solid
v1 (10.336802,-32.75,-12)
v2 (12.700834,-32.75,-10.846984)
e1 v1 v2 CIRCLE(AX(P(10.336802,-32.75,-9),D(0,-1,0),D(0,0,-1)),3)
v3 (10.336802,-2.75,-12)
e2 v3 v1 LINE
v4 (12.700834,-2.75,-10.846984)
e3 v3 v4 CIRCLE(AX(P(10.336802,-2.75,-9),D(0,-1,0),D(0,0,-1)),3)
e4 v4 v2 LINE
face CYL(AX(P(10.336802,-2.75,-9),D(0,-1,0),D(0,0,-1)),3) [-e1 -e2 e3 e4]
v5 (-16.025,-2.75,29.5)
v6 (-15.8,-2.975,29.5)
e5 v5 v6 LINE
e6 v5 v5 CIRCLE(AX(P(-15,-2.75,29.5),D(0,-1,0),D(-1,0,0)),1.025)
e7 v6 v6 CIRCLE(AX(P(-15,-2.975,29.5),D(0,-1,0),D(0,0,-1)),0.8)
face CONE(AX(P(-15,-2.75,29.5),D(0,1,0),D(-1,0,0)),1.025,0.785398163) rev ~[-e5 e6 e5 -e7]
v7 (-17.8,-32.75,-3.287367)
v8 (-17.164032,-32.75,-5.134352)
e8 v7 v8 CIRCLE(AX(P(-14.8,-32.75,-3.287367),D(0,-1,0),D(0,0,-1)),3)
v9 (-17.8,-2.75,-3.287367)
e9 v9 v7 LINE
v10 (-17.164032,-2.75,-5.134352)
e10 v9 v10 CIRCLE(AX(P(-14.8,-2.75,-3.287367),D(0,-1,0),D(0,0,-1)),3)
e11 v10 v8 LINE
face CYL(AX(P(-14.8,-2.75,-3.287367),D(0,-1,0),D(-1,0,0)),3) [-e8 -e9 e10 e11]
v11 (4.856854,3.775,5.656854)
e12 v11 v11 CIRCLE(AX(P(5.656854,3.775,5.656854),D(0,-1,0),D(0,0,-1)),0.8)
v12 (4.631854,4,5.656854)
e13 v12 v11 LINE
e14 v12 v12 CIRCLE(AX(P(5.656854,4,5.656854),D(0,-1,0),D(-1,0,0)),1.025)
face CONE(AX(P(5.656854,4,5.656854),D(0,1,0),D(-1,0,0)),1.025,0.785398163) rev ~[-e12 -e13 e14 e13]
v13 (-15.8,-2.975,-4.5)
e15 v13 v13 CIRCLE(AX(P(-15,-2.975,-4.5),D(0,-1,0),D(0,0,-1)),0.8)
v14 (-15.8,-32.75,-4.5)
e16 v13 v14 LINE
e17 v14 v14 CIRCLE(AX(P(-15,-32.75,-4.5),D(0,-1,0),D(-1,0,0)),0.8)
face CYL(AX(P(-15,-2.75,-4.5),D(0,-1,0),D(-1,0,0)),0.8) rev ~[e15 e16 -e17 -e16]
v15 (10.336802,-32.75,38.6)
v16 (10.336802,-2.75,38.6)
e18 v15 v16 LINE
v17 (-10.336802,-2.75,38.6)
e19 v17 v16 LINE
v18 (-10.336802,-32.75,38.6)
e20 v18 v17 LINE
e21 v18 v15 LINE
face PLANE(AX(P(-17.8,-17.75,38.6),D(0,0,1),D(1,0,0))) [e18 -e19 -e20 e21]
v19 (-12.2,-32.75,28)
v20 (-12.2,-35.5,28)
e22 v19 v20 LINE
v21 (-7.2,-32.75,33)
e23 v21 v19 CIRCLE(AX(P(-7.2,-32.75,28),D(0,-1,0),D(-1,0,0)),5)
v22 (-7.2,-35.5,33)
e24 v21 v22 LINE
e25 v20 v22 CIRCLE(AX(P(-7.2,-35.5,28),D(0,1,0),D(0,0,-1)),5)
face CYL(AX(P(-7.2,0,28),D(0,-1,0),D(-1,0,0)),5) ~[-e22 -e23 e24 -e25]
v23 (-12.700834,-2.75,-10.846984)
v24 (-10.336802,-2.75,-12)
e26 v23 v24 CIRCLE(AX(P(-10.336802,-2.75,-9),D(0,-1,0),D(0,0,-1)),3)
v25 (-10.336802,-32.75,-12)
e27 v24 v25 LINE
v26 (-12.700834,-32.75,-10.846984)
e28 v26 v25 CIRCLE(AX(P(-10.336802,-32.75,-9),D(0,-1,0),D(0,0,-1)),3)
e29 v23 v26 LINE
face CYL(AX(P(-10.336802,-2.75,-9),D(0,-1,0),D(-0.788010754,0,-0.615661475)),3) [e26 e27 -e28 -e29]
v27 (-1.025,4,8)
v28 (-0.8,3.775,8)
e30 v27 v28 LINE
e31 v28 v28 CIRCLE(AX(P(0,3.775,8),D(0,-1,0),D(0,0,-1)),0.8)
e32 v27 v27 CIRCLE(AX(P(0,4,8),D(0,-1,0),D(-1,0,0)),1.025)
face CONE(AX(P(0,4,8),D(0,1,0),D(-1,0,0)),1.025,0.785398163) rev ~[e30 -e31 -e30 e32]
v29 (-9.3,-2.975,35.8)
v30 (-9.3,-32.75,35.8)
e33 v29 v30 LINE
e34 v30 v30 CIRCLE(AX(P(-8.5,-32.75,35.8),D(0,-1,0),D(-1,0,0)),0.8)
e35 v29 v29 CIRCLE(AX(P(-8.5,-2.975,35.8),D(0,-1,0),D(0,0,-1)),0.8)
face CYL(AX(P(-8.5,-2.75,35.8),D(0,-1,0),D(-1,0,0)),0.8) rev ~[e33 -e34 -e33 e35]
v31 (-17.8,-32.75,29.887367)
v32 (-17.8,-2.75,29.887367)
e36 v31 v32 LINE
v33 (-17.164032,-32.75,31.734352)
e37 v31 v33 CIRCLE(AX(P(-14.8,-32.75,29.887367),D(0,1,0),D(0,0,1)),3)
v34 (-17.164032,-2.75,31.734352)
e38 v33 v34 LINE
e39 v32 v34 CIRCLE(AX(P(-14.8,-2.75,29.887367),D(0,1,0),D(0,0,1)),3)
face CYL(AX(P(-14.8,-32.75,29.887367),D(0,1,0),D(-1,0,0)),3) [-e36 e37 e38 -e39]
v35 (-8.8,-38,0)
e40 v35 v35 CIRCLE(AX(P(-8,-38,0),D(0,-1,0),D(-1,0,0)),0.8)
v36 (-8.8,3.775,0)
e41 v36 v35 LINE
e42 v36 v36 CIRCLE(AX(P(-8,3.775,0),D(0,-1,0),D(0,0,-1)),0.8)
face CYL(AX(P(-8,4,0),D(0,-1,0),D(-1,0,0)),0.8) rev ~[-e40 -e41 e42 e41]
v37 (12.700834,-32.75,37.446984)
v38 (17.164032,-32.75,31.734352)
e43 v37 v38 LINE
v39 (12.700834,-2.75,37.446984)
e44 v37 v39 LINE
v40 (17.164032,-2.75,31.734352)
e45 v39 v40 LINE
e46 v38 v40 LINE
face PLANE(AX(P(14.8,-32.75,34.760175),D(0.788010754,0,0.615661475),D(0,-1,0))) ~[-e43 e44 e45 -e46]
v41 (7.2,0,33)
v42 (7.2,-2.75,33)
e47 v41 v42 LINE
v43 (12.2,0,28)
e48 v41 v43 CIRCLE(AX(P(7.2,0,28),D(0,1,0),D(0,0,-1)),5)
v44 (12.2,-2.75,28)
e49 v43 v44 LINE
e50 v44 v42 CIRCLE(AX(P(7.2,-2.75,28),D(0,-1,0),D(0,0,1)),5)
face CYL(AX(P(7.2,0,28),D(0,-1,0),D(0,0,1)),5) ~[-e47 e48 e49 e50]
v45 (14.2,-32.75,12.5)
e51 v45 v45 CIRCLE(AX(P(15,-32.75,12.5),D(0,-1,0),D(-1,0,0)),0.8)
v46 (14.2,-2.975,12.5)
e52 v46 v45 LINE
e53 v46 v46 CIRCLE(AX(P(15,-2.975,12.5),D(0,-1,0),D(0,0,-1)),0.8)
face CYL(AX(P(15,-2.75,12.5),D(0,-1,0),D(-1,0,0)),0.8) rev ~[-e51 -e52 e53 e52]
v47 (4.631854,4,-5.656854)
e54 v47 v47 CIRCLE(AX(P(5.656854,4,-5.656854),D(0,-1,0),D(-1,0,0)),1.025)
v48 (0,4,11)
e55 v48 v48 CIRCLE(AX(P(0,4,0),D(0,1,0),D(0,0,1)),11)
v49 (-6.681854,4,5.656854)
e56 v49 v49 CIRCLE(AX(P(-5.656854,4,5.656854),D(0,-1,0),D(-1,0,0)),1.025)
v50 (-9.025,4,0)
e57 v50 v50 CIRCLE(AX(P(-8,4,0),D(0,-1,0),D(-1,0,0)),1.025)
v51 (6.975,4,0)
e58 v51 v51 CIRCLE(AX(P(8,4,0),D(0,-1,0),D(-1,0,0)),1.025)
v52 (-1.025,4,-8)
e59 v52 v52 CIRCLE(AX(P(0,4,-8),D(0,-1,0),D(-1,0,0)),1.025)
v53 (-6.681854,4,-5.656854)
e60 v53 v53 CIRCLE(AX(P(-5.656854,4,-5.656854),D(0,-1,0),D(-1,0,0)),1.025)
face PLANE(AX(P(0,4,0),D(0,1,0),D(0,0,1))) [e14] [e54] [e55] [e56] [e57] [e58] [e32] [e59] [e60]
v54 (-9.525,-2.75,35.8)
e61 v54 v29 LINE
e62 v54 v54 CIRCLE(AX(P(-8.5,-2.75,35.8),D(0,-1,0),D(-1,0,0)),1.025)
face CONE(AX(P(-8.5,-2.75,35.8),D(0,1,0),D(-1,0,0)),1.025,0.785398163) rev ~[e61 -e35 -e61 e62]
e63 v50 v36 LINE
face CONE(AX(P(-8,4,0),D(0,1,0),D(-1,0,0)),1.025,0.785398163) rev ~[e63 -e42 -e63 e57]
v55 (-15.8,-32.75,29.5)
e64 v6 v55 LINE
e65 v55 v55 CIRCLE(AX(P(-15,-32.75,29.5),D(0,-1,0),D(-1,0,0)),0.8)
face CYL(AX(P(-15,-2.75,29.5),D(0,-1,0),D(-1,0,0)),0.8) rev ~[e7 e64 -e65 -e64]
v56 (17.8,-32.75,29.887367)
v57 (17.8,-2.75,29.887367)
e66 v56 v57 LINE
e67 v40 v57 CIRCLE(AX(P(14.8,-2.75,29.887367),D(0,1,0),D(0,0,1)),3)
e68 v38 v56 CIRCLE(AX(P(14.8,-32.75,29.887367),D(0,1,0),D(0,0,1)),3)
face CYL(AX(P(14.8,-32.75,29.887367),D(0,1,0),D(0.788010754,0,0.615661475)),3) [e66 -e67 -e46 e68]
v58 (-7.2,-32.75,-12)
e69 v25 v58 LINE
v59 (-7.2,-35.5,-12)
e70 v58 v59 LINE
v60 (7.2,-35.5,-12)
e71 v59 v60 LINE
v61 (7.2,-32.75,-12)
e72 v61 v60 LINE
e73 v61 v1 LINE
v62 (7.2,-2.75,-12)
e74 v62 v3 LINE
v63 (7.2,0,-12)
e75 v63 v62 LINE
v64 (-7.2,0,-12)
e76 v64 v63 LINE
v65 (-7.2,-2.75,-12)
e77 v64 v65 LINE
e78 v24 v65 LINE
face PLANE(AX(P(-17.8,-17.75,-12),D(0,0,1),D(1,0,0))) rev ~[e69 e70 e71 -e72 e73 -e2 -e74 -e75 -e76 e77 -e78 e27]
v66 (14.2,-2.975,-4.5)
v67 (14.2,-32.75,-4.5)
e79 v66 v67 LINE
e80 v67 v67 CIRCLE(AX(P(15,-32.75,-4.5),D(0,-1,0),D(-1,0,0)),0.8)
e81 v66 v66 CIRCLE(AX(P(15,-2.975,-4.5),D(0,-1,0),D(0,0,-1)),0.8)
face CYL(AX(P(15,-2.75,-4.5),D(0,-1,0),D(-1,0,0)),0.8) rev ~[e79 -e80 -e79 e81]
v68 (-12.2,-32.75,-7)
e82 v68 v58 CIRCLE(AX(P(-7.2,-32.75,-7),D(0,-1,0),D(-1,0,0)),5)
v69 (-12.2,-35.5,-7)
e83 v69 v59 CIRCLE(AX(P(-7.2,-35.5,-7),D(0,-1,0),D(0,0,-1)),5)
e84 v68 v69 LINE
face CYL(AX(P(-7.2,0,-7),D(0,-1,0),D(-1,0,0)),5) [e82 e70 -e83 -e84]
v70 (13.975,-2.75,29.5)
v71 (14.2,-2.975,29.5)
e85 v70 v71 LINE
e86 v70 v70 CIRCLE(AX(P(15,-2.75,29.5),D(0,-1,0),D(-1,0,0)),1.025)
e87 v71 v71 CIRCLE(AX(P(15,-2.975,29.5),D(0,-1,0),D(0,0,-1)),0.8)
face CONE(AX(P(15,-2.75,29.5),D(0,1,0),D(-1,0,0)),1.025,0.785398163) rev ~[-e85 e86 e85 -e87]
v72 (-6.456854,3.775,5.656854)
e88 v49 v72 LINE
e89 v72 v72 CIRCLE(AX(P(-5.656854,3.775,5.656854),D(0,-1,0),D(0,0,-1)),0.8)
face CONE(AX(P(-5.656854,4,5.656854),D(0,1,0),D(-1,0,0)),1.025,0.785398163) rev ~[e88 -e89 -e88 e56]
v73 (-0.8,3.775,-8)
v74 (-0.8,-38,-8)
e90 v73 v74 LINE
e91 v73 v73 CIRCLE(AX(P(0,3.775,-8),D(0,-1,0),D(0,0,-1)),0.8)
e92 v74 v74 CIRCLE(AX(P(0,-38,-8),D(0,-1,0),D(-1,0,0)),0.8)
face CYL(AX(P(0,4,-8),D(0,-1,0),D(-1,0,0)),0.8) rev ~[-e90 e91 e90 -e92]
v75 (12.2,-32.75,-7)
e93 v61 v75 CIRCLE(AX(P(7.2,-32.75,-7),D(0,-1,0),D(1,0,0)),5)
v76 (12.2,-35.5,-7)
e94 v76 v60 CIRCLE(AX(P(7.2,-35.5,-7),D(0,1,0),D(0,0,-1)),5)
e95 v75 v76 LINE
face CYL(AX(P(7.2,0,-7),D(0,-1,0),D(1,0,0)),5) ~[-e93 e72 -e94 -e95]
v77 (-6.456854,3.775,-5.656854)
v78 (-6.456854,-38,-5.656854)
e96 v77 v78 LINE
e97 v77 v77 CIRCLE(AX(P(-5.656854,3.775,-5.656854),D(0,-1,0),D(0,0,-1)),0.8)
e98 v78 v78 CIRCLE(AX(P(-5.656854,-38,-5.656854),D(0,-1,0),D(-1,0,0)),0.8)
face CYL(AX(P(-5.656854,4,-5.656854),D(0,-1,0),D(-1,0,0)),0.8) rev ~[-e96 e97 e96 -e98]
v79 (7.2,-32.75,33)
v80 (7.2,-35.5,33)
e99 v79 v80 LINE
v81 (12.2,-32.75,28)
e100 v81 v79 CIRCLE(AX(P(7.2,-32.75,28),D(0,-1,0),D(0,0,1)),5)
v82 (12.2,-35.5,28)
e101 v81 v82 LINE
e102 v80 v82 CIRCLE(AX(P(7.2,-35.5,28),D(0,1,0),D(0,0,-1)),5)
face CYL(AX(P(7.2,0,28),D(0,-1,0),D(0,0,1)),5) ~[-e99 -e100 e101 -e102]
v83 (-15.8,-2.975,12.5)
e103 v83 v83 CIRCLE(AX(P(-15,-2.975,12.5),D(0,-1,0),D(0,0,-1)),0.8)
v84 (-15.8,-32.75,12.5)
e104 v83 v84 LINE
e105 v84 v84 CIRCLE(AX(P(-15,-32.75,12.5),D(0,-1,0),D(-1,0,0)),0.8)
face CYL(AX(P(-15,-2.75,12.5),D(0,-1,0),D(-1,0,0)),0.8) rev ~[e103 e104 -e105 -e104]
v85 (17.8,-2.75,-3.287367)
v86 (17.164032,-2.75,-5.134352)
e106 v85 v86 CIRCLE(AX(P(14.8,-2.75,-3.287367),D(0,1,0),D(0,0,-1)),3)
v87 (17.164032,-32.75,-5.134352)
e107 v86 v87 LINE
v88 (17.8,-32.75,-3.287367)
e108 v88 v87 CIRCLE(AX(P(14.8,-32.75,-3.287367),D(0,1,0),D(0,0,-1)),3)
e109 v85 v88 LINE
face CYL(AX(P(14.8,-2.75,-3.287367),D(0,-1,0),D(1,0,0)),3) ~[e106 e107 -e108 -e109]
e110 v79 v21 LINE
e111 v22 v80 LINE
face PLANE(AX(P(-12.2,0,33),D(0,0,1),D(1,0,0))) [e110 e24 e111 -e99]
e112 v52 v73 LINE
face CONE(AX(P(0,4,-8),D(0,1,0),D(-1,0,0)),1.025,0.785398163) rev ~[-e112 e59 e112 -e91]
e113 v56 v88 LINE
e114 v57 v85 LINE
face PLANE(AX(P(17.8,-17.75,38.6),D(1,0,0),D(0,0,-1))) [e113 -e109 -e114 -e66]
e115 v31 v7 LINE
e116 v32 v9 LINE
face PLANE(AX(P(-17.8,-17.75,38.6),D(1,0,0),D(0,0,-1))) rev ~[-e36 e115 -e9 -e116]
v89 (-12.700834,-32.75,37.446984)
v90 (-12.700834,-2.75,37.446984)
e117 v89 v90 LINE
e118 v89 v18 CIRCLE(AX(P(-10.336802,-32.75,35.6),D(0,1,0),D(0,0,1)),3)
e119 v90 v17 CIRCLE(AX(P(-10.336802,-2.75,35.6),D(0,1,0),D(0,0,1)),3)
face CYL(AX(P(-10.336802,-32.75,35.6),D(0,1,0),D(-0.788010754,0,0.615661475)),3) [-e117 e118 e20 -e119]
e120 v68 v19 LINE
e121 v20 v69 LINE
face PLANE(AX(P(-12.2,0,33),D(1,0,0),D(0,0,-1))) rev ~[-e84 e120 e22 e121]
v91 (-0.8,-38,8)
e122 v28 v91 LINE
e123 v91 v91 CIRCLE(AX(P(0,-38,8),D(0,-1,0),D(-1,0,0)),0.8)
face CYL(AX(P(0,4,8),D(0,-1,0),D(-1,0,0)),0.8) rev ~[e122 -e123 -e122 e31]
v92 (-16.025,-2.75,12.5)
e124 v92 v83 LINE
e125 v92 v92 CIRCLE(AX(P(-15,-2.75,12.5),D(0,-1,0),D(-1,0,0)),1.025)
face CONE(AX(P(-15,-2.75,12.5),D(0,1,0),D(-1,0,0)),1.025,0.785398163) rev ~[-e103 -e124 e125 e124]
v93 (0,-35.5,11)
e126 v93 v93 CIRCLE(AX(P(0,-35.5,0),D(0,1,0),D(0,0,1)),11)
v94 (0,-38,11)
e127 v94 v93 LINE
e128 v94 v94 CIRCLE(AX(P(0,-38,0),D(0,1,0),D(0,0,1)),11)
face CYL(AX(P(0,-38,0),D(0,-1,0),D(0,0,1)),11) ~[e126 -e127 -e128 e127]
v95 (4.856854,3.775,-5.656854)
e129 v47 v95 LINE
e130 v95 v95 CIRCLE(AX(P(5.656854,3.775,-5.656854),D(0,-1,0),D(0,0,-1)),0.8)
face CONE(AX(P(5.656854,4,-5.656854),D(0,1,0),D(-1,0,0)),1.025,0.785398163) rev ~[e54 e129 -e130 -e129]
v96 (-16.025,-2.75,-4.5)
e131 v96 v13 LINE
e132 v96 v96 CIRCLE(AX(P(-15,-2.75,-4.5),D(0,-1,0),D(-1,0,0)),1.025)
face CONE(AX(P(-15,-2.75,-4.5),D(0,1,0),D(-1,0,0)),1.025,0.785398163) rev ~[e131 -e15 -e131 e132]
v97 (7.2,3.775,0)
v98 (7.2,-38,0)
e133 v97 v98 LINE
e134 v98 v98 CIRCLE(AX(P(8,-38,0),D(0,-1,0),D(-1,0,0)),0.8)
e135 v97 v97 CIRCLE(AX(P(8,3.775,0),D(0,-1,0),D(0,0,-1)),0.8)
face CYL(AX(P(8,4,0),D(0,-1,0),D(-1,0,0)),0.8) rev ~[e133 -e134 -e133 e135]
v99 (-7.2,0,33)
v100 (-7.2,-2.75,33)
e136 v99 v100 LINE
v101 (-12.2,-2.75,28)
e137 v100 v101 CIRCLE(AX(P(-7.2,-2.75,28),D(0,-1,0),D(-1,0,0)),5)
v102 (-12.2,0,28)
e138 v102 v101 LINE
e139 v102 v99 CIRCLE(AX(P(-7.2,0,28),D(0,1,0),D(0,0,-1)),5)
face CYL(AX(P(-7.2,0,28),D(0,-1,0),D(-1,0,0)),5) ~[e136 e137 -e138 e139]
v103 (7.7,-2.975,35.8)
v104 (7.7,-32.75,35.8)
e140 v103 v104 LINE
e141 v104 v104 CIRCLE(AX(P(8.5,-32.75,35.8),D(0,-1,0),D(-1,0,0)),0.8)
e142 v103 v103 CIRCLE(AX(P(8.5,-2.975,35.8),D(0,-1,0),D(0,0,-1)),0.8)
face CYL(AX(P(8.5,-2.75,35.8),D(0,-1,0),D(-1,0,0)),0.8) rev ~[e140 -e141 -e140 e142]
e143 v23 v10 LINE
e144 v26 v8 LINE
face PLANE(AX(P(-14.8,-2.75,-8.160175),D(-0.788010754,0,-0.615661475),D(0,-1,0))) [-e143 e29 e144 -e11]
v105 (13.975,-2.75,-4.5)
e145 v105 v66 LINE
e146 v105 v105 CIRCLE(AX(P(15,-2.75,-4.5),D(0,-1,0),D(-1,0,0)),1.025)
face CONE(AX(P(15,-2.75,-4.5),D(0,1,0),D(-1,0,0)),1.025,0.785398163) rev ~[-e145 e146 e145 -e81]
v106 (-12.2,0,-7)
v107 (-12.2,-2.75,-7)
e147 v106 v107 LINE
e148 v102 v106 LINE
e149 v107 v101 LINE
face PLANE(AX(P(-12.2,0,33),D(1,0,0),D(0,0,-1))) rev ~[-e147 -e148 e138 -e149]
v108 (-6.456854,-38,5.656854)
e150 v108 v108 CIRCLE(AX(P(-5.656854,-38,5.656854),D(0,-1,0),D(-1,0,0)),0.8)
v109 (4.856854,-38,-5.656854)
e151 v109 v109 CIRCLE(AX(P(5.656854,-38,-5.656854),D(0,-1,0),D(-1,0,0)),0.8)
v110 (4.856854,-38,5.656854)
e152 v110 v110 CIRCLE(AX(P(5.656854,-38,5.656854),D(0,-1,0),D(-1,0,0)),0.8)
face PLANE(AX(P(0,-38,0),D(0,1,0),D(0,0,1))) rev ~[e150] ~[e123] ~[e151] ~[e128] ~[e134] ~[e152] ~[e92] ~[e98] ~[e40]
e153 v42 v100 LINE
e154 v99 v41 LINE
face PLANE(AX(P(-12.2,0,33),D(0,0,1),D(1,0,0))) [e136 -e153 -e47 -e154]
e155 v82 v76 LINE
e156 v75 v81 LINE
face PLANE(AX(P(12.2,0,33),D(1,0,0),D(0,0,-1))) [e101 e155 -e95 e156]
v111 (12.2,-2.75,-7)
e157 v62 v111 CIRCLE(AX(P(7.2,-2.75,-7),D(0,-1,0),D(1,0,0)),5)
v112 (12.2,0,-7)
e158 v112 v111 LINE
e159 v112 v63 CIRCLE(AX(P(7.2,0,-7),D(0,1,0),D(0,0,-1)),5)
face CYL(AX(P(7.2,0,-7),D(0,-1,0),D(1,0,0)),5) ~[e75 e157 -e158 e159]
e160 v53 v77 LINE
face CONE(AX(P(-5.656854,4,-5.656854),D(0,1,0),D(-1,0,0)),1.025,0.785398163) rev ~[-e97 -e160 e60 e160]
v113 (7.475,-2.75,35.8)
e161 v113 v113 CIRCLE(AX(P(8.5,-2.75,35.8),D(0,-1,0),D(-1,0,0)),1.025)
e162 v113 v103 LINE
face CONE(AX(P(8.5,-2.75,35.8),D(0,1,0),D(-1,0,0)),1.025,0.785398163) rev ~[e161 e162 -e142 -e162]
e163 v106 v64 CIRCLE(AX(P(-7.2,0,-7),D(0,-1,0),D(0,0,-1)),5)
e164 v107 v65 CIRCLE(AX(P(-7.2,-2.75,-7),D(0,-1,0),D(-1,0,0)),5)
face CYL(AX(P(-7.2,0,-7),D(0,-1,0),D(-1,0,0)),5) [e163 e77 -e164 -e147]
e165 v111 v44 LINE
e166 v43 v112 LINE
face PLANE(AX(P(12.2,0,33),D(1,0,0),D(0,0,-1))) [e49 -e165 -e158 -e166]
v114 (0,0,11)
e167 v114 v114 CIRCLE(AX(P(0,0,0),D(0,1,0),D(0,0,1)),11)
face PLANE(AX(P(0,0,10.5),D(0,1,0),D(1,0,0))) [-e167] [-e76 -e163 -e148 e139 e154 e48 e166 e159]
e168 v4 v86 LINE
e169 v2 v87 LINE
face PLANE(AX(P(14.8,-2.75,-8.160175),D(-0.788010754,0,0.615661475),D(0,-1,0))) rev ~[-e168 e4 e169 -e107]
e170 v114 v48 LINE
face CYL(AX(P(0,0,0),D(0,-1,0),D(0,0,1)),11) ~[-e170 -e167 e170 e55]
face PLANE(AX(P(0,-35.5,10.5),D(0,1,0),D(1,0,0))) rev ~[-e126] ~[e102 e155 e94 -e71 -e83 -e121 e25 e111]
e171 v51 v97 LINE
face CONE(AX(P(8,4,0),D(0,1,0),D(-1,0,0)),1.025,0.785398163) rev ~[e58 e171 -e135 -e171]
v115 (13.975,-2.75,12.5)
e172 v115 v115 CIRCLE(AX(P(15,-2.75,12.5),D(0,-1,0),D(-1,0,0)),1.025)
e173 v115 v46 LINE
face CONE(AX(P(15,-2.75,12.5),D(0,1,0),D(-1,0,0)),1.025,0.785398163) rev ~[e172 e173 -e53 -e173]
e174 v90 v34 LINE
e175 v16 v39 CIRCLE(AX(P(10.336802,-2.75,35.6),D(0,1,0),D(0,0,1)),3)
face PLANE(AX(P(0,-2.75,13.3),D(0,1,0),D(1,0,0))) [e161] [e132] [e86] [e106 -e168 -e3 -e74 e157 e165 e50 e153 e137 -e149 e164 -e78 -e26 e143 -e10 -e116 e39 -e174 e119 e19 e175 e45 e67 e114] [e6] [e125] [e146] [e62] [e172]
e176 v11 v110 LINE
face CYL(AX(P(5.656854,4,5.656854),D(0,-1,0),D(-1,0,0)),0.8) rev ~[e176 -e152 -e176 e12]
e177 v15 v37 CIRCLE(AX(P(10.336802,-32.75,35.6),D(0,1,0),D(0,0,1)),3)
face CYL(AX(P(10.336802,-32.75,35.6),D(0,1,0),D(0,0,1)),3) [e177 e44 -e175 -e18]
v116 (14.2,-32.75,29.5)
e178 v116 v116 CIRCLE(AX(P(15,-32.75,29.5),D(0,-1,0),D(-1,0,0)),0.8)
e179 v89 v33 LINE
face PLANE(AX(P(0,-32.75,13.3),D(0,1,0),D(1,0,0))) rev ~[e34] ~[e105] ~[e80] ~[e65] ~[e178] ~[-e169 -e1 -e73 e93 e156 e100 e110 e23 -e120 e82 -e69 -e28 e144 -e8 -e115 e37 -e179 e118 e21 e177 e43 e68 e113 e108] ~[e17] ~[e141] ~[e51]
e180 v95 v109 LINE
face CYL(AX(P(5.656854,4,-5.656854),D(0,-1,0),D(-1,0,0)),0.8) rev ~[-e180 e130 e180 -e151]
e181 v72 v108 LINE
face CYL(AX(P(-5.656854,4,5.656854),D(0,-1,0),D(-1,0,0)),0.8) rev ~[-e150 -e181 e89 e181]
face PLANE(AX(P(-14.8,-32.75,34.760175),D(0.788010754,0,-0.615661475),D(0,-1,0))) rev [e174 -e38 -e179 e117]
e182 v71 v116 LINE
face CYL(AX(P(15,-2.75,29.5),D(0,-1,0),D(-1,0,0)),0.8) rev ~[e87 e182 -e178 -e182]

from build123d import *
from OCP.BRepFilletAPI import BRepFilletAPI_MakeChamfer

# Parameters (mm, degrees)
SKETCH1_W                       = 24.4
SKETCH1_H                       = 45
BOSS_EXTRUDE1_DEPTH             = 35.5
FILLET1_R                       = 5
SKETCH2_W                       = 35.6
SKETCH2_H                       = 50.6
BOSS_EXTRUDE2_DEPTH             = 15
CHAMFER2_SIZE                   = 6
CHAMFER2_SIZE2                  = 7.679649793
FILLET2_R                       = 3
SKETCH3_R                       = 11
BOSS_EXTRUDE3_DEPTH             = 4
BOSS_EXTRUDE5_START             = -38
SKETCH3_3_R                     = 11
BOSS_EXTRUDE5_DEPTH             = 2.5
M2X0_4_TAPPED_HOLE1_D           = 1.6
M2X0_4_TAPPED_HOLE1_CSINK_D     = 2.05
M2X0_4_TAPPED_HOLE1_CSINK_ANGLE = 90
M2X0_4_TAPPED_HOLE2_D           = 1.6
M2X0_4_TAPPED_HOLE2_CSINK_D     = 2.05
M2X0_4_TAPPED_HOLE2_CSINK_ANGLE = 90


with BuildPart() as part:
    # Sketch1 → Boss-Extrude1 (new body)
    with BuildSketch(Plane(origin=(0, 0, 0), x_dir=(1, 0, 0), z_dir=(0, 1, 0))):
        with Locations((0, -10.5)):
            Rectangle(SKETCH1_W, SKETCH1_H)
    extrude(amount=-BOSS_EXTRUDE1_DEPTH)

    # Fillet1
    fillet1_edges = [part.edges().sort_by_distance(p)[0] for p in [
        (-12.2, -17.75, -12),
        (12.2, -17.75, -12),
        (12.2, -17.75, 33),
        (-12.2, -17.75, 33),
    ]]
    fillet(fillet1_edges, radius=FILLET1_R)

    # Sketch2 → Boss-Extrude2 (add, symmetric)
    with BuildSketch(Plane(origin=(0, -17.75, 0), x_dir=(1, 0, 0), z_dir=(0, 1, 0))):
        with Locations((0, -13.3)):
            Rectangle(SKETCH2_W, SKETCH2_H)
    extrude(amount=BOSS_EXTRUDE2_DEPTH, both=True)

    # Chamfer2: one chamfer whose edges measure the first distance from different faces: ONE call of the kernel's chamfer builder (chamfer() names one face for all edges)
    chamfer2_edges_1 = [part.edges().sort_by_distance(p)[0] for p in [
        (-17.8, -17.75, -12),
        (17.8, -17.75, -12),
    ]]
    chamfer2_side_1 = [part.faces().sort_by_distance(p)[0] for p in [
        (0, -17.75, -12),
    ]]
    chamfer2_edges_2 = [part.edges().sort_by_distance(p)[0] for p in [
        (-17.8, -17.75, 38.6),
        (17.8, -17.75, 38.6),
    ]]
    chamfer2_side_2 = [part.faces().sort_by_distance(p)[0] for p in [
        (0, -17.75, 38.6),
    ]]
    chamfer2 = BRepFilletAPI_MakeChamfer(part.part.solid().wrapped)
    for e in chamfer2_edges_1:
        chamfer2.Add(CHAMFER2_SIZE, CHAMFER2_SIZE2, e.wrapped, chamfer2_side_1[0].wrapped)  # the first distance lies on this face
    for e in chamfer2_edges_2:
        chamfer2.Add(CHAMFER2_SIZE, CHAMFER2_SIZE2, e.wrapped, chamfer2_side_2[0].wrapped)  # the first distance lies on this face
    add(Compound.cast(chamfer2.Shape()), mode=Mode.REPLACE)

    # Fillet2
    fillet2_edges = [part.edges().sort_by_distance(p)[0] for p in [
        (17.8, -17.75, -4.320350207),
        (17.8, -17.75, 30.920350207),
        (-11.8, -17.75, 38.6),
        (11.8, -17.75, 38.6),
        (-17.8, -17.75, -4.320350207),
        (-17.8, -17.75, 30.920350207),
        (-11.8, -17.75, -12),
        (11.8, -17.75, -12),
    ]]
    fillet(fillet2_edges, radius=FILLET2_R)

    # Sketch3 → Boss-Extrude3 (add)
    with BuildSketch(Plane(origin=(0, 0, 0), x_dir=(1, 0, 0), z_dir=(0, 1, 0))):
        with Locations(Location((0, 0, 0), (0, 0, 270))):
            Circle(SKETCH3_R)
    extrude(amount=BOSS_EXTRUDE3_DEPTH)

    # Sketch3<3> → Boss-Extrude5 (add)
    with BuildSketch(Plane(origin=(0, 0, 0), x_dir=(1, 0, 0), z_dir=(0, 1, 0)).offset(BOSS_EXTRUDE5_START)):
        with Locations(Location((0, 0, 0), (0, 0, 270))):
            Circle(SKETCH3_3_R)
    extrude(amount=BOSS_EXTRUDE5_DEPTH)

    # M2x0.4 Tapped Hole1 (through all)
    with Locations(Plane(origin=(0, 4, 0), x_dir=(1, 0, 0), z_dir=(0, 1, 0))):
        with Locations((-5.656854249, 5.656854249), (0, 8), (5.656854249, 5.656854249), (8, 0), (5.656854249, -5.656854249), (0, -8), (-5.656854249, -5.656854249), (-8, 0)):
            CounterSinkHole(M2X0_4_TAPPED_HOLE1_D / 2, M2X0_4_TAPPED_HOLE1_CSINK_D / 2, counter_sink_angle=M2X0_4_TAPPED_HOLE1_CSINK_ANGLE)

    # M2x0.4 Tapped Hole2 (through all)
    with Locations(Plane(origin=(0, -2.75, 0), x_dir=(1, 0, 0), z_dir=(0, 1, 0))):
        with Locations((15, 4.5), (-15, 4.5), (-15, -12.5), (-15, -29.5), (-8.5, -35.8), (8.5, -35.8), (15, -29.5), (15, -12.5)):
            CounterSinkHole(M2X0_4_TAPPED_HOLE2_D / 2, M2X0_4_TAPPED_HOLE2_CSINK_D / 2, counter_sink_angle=M2X0_4_TAPPED_HOLE2_CSINK_ANGLE)


solid = part.part
